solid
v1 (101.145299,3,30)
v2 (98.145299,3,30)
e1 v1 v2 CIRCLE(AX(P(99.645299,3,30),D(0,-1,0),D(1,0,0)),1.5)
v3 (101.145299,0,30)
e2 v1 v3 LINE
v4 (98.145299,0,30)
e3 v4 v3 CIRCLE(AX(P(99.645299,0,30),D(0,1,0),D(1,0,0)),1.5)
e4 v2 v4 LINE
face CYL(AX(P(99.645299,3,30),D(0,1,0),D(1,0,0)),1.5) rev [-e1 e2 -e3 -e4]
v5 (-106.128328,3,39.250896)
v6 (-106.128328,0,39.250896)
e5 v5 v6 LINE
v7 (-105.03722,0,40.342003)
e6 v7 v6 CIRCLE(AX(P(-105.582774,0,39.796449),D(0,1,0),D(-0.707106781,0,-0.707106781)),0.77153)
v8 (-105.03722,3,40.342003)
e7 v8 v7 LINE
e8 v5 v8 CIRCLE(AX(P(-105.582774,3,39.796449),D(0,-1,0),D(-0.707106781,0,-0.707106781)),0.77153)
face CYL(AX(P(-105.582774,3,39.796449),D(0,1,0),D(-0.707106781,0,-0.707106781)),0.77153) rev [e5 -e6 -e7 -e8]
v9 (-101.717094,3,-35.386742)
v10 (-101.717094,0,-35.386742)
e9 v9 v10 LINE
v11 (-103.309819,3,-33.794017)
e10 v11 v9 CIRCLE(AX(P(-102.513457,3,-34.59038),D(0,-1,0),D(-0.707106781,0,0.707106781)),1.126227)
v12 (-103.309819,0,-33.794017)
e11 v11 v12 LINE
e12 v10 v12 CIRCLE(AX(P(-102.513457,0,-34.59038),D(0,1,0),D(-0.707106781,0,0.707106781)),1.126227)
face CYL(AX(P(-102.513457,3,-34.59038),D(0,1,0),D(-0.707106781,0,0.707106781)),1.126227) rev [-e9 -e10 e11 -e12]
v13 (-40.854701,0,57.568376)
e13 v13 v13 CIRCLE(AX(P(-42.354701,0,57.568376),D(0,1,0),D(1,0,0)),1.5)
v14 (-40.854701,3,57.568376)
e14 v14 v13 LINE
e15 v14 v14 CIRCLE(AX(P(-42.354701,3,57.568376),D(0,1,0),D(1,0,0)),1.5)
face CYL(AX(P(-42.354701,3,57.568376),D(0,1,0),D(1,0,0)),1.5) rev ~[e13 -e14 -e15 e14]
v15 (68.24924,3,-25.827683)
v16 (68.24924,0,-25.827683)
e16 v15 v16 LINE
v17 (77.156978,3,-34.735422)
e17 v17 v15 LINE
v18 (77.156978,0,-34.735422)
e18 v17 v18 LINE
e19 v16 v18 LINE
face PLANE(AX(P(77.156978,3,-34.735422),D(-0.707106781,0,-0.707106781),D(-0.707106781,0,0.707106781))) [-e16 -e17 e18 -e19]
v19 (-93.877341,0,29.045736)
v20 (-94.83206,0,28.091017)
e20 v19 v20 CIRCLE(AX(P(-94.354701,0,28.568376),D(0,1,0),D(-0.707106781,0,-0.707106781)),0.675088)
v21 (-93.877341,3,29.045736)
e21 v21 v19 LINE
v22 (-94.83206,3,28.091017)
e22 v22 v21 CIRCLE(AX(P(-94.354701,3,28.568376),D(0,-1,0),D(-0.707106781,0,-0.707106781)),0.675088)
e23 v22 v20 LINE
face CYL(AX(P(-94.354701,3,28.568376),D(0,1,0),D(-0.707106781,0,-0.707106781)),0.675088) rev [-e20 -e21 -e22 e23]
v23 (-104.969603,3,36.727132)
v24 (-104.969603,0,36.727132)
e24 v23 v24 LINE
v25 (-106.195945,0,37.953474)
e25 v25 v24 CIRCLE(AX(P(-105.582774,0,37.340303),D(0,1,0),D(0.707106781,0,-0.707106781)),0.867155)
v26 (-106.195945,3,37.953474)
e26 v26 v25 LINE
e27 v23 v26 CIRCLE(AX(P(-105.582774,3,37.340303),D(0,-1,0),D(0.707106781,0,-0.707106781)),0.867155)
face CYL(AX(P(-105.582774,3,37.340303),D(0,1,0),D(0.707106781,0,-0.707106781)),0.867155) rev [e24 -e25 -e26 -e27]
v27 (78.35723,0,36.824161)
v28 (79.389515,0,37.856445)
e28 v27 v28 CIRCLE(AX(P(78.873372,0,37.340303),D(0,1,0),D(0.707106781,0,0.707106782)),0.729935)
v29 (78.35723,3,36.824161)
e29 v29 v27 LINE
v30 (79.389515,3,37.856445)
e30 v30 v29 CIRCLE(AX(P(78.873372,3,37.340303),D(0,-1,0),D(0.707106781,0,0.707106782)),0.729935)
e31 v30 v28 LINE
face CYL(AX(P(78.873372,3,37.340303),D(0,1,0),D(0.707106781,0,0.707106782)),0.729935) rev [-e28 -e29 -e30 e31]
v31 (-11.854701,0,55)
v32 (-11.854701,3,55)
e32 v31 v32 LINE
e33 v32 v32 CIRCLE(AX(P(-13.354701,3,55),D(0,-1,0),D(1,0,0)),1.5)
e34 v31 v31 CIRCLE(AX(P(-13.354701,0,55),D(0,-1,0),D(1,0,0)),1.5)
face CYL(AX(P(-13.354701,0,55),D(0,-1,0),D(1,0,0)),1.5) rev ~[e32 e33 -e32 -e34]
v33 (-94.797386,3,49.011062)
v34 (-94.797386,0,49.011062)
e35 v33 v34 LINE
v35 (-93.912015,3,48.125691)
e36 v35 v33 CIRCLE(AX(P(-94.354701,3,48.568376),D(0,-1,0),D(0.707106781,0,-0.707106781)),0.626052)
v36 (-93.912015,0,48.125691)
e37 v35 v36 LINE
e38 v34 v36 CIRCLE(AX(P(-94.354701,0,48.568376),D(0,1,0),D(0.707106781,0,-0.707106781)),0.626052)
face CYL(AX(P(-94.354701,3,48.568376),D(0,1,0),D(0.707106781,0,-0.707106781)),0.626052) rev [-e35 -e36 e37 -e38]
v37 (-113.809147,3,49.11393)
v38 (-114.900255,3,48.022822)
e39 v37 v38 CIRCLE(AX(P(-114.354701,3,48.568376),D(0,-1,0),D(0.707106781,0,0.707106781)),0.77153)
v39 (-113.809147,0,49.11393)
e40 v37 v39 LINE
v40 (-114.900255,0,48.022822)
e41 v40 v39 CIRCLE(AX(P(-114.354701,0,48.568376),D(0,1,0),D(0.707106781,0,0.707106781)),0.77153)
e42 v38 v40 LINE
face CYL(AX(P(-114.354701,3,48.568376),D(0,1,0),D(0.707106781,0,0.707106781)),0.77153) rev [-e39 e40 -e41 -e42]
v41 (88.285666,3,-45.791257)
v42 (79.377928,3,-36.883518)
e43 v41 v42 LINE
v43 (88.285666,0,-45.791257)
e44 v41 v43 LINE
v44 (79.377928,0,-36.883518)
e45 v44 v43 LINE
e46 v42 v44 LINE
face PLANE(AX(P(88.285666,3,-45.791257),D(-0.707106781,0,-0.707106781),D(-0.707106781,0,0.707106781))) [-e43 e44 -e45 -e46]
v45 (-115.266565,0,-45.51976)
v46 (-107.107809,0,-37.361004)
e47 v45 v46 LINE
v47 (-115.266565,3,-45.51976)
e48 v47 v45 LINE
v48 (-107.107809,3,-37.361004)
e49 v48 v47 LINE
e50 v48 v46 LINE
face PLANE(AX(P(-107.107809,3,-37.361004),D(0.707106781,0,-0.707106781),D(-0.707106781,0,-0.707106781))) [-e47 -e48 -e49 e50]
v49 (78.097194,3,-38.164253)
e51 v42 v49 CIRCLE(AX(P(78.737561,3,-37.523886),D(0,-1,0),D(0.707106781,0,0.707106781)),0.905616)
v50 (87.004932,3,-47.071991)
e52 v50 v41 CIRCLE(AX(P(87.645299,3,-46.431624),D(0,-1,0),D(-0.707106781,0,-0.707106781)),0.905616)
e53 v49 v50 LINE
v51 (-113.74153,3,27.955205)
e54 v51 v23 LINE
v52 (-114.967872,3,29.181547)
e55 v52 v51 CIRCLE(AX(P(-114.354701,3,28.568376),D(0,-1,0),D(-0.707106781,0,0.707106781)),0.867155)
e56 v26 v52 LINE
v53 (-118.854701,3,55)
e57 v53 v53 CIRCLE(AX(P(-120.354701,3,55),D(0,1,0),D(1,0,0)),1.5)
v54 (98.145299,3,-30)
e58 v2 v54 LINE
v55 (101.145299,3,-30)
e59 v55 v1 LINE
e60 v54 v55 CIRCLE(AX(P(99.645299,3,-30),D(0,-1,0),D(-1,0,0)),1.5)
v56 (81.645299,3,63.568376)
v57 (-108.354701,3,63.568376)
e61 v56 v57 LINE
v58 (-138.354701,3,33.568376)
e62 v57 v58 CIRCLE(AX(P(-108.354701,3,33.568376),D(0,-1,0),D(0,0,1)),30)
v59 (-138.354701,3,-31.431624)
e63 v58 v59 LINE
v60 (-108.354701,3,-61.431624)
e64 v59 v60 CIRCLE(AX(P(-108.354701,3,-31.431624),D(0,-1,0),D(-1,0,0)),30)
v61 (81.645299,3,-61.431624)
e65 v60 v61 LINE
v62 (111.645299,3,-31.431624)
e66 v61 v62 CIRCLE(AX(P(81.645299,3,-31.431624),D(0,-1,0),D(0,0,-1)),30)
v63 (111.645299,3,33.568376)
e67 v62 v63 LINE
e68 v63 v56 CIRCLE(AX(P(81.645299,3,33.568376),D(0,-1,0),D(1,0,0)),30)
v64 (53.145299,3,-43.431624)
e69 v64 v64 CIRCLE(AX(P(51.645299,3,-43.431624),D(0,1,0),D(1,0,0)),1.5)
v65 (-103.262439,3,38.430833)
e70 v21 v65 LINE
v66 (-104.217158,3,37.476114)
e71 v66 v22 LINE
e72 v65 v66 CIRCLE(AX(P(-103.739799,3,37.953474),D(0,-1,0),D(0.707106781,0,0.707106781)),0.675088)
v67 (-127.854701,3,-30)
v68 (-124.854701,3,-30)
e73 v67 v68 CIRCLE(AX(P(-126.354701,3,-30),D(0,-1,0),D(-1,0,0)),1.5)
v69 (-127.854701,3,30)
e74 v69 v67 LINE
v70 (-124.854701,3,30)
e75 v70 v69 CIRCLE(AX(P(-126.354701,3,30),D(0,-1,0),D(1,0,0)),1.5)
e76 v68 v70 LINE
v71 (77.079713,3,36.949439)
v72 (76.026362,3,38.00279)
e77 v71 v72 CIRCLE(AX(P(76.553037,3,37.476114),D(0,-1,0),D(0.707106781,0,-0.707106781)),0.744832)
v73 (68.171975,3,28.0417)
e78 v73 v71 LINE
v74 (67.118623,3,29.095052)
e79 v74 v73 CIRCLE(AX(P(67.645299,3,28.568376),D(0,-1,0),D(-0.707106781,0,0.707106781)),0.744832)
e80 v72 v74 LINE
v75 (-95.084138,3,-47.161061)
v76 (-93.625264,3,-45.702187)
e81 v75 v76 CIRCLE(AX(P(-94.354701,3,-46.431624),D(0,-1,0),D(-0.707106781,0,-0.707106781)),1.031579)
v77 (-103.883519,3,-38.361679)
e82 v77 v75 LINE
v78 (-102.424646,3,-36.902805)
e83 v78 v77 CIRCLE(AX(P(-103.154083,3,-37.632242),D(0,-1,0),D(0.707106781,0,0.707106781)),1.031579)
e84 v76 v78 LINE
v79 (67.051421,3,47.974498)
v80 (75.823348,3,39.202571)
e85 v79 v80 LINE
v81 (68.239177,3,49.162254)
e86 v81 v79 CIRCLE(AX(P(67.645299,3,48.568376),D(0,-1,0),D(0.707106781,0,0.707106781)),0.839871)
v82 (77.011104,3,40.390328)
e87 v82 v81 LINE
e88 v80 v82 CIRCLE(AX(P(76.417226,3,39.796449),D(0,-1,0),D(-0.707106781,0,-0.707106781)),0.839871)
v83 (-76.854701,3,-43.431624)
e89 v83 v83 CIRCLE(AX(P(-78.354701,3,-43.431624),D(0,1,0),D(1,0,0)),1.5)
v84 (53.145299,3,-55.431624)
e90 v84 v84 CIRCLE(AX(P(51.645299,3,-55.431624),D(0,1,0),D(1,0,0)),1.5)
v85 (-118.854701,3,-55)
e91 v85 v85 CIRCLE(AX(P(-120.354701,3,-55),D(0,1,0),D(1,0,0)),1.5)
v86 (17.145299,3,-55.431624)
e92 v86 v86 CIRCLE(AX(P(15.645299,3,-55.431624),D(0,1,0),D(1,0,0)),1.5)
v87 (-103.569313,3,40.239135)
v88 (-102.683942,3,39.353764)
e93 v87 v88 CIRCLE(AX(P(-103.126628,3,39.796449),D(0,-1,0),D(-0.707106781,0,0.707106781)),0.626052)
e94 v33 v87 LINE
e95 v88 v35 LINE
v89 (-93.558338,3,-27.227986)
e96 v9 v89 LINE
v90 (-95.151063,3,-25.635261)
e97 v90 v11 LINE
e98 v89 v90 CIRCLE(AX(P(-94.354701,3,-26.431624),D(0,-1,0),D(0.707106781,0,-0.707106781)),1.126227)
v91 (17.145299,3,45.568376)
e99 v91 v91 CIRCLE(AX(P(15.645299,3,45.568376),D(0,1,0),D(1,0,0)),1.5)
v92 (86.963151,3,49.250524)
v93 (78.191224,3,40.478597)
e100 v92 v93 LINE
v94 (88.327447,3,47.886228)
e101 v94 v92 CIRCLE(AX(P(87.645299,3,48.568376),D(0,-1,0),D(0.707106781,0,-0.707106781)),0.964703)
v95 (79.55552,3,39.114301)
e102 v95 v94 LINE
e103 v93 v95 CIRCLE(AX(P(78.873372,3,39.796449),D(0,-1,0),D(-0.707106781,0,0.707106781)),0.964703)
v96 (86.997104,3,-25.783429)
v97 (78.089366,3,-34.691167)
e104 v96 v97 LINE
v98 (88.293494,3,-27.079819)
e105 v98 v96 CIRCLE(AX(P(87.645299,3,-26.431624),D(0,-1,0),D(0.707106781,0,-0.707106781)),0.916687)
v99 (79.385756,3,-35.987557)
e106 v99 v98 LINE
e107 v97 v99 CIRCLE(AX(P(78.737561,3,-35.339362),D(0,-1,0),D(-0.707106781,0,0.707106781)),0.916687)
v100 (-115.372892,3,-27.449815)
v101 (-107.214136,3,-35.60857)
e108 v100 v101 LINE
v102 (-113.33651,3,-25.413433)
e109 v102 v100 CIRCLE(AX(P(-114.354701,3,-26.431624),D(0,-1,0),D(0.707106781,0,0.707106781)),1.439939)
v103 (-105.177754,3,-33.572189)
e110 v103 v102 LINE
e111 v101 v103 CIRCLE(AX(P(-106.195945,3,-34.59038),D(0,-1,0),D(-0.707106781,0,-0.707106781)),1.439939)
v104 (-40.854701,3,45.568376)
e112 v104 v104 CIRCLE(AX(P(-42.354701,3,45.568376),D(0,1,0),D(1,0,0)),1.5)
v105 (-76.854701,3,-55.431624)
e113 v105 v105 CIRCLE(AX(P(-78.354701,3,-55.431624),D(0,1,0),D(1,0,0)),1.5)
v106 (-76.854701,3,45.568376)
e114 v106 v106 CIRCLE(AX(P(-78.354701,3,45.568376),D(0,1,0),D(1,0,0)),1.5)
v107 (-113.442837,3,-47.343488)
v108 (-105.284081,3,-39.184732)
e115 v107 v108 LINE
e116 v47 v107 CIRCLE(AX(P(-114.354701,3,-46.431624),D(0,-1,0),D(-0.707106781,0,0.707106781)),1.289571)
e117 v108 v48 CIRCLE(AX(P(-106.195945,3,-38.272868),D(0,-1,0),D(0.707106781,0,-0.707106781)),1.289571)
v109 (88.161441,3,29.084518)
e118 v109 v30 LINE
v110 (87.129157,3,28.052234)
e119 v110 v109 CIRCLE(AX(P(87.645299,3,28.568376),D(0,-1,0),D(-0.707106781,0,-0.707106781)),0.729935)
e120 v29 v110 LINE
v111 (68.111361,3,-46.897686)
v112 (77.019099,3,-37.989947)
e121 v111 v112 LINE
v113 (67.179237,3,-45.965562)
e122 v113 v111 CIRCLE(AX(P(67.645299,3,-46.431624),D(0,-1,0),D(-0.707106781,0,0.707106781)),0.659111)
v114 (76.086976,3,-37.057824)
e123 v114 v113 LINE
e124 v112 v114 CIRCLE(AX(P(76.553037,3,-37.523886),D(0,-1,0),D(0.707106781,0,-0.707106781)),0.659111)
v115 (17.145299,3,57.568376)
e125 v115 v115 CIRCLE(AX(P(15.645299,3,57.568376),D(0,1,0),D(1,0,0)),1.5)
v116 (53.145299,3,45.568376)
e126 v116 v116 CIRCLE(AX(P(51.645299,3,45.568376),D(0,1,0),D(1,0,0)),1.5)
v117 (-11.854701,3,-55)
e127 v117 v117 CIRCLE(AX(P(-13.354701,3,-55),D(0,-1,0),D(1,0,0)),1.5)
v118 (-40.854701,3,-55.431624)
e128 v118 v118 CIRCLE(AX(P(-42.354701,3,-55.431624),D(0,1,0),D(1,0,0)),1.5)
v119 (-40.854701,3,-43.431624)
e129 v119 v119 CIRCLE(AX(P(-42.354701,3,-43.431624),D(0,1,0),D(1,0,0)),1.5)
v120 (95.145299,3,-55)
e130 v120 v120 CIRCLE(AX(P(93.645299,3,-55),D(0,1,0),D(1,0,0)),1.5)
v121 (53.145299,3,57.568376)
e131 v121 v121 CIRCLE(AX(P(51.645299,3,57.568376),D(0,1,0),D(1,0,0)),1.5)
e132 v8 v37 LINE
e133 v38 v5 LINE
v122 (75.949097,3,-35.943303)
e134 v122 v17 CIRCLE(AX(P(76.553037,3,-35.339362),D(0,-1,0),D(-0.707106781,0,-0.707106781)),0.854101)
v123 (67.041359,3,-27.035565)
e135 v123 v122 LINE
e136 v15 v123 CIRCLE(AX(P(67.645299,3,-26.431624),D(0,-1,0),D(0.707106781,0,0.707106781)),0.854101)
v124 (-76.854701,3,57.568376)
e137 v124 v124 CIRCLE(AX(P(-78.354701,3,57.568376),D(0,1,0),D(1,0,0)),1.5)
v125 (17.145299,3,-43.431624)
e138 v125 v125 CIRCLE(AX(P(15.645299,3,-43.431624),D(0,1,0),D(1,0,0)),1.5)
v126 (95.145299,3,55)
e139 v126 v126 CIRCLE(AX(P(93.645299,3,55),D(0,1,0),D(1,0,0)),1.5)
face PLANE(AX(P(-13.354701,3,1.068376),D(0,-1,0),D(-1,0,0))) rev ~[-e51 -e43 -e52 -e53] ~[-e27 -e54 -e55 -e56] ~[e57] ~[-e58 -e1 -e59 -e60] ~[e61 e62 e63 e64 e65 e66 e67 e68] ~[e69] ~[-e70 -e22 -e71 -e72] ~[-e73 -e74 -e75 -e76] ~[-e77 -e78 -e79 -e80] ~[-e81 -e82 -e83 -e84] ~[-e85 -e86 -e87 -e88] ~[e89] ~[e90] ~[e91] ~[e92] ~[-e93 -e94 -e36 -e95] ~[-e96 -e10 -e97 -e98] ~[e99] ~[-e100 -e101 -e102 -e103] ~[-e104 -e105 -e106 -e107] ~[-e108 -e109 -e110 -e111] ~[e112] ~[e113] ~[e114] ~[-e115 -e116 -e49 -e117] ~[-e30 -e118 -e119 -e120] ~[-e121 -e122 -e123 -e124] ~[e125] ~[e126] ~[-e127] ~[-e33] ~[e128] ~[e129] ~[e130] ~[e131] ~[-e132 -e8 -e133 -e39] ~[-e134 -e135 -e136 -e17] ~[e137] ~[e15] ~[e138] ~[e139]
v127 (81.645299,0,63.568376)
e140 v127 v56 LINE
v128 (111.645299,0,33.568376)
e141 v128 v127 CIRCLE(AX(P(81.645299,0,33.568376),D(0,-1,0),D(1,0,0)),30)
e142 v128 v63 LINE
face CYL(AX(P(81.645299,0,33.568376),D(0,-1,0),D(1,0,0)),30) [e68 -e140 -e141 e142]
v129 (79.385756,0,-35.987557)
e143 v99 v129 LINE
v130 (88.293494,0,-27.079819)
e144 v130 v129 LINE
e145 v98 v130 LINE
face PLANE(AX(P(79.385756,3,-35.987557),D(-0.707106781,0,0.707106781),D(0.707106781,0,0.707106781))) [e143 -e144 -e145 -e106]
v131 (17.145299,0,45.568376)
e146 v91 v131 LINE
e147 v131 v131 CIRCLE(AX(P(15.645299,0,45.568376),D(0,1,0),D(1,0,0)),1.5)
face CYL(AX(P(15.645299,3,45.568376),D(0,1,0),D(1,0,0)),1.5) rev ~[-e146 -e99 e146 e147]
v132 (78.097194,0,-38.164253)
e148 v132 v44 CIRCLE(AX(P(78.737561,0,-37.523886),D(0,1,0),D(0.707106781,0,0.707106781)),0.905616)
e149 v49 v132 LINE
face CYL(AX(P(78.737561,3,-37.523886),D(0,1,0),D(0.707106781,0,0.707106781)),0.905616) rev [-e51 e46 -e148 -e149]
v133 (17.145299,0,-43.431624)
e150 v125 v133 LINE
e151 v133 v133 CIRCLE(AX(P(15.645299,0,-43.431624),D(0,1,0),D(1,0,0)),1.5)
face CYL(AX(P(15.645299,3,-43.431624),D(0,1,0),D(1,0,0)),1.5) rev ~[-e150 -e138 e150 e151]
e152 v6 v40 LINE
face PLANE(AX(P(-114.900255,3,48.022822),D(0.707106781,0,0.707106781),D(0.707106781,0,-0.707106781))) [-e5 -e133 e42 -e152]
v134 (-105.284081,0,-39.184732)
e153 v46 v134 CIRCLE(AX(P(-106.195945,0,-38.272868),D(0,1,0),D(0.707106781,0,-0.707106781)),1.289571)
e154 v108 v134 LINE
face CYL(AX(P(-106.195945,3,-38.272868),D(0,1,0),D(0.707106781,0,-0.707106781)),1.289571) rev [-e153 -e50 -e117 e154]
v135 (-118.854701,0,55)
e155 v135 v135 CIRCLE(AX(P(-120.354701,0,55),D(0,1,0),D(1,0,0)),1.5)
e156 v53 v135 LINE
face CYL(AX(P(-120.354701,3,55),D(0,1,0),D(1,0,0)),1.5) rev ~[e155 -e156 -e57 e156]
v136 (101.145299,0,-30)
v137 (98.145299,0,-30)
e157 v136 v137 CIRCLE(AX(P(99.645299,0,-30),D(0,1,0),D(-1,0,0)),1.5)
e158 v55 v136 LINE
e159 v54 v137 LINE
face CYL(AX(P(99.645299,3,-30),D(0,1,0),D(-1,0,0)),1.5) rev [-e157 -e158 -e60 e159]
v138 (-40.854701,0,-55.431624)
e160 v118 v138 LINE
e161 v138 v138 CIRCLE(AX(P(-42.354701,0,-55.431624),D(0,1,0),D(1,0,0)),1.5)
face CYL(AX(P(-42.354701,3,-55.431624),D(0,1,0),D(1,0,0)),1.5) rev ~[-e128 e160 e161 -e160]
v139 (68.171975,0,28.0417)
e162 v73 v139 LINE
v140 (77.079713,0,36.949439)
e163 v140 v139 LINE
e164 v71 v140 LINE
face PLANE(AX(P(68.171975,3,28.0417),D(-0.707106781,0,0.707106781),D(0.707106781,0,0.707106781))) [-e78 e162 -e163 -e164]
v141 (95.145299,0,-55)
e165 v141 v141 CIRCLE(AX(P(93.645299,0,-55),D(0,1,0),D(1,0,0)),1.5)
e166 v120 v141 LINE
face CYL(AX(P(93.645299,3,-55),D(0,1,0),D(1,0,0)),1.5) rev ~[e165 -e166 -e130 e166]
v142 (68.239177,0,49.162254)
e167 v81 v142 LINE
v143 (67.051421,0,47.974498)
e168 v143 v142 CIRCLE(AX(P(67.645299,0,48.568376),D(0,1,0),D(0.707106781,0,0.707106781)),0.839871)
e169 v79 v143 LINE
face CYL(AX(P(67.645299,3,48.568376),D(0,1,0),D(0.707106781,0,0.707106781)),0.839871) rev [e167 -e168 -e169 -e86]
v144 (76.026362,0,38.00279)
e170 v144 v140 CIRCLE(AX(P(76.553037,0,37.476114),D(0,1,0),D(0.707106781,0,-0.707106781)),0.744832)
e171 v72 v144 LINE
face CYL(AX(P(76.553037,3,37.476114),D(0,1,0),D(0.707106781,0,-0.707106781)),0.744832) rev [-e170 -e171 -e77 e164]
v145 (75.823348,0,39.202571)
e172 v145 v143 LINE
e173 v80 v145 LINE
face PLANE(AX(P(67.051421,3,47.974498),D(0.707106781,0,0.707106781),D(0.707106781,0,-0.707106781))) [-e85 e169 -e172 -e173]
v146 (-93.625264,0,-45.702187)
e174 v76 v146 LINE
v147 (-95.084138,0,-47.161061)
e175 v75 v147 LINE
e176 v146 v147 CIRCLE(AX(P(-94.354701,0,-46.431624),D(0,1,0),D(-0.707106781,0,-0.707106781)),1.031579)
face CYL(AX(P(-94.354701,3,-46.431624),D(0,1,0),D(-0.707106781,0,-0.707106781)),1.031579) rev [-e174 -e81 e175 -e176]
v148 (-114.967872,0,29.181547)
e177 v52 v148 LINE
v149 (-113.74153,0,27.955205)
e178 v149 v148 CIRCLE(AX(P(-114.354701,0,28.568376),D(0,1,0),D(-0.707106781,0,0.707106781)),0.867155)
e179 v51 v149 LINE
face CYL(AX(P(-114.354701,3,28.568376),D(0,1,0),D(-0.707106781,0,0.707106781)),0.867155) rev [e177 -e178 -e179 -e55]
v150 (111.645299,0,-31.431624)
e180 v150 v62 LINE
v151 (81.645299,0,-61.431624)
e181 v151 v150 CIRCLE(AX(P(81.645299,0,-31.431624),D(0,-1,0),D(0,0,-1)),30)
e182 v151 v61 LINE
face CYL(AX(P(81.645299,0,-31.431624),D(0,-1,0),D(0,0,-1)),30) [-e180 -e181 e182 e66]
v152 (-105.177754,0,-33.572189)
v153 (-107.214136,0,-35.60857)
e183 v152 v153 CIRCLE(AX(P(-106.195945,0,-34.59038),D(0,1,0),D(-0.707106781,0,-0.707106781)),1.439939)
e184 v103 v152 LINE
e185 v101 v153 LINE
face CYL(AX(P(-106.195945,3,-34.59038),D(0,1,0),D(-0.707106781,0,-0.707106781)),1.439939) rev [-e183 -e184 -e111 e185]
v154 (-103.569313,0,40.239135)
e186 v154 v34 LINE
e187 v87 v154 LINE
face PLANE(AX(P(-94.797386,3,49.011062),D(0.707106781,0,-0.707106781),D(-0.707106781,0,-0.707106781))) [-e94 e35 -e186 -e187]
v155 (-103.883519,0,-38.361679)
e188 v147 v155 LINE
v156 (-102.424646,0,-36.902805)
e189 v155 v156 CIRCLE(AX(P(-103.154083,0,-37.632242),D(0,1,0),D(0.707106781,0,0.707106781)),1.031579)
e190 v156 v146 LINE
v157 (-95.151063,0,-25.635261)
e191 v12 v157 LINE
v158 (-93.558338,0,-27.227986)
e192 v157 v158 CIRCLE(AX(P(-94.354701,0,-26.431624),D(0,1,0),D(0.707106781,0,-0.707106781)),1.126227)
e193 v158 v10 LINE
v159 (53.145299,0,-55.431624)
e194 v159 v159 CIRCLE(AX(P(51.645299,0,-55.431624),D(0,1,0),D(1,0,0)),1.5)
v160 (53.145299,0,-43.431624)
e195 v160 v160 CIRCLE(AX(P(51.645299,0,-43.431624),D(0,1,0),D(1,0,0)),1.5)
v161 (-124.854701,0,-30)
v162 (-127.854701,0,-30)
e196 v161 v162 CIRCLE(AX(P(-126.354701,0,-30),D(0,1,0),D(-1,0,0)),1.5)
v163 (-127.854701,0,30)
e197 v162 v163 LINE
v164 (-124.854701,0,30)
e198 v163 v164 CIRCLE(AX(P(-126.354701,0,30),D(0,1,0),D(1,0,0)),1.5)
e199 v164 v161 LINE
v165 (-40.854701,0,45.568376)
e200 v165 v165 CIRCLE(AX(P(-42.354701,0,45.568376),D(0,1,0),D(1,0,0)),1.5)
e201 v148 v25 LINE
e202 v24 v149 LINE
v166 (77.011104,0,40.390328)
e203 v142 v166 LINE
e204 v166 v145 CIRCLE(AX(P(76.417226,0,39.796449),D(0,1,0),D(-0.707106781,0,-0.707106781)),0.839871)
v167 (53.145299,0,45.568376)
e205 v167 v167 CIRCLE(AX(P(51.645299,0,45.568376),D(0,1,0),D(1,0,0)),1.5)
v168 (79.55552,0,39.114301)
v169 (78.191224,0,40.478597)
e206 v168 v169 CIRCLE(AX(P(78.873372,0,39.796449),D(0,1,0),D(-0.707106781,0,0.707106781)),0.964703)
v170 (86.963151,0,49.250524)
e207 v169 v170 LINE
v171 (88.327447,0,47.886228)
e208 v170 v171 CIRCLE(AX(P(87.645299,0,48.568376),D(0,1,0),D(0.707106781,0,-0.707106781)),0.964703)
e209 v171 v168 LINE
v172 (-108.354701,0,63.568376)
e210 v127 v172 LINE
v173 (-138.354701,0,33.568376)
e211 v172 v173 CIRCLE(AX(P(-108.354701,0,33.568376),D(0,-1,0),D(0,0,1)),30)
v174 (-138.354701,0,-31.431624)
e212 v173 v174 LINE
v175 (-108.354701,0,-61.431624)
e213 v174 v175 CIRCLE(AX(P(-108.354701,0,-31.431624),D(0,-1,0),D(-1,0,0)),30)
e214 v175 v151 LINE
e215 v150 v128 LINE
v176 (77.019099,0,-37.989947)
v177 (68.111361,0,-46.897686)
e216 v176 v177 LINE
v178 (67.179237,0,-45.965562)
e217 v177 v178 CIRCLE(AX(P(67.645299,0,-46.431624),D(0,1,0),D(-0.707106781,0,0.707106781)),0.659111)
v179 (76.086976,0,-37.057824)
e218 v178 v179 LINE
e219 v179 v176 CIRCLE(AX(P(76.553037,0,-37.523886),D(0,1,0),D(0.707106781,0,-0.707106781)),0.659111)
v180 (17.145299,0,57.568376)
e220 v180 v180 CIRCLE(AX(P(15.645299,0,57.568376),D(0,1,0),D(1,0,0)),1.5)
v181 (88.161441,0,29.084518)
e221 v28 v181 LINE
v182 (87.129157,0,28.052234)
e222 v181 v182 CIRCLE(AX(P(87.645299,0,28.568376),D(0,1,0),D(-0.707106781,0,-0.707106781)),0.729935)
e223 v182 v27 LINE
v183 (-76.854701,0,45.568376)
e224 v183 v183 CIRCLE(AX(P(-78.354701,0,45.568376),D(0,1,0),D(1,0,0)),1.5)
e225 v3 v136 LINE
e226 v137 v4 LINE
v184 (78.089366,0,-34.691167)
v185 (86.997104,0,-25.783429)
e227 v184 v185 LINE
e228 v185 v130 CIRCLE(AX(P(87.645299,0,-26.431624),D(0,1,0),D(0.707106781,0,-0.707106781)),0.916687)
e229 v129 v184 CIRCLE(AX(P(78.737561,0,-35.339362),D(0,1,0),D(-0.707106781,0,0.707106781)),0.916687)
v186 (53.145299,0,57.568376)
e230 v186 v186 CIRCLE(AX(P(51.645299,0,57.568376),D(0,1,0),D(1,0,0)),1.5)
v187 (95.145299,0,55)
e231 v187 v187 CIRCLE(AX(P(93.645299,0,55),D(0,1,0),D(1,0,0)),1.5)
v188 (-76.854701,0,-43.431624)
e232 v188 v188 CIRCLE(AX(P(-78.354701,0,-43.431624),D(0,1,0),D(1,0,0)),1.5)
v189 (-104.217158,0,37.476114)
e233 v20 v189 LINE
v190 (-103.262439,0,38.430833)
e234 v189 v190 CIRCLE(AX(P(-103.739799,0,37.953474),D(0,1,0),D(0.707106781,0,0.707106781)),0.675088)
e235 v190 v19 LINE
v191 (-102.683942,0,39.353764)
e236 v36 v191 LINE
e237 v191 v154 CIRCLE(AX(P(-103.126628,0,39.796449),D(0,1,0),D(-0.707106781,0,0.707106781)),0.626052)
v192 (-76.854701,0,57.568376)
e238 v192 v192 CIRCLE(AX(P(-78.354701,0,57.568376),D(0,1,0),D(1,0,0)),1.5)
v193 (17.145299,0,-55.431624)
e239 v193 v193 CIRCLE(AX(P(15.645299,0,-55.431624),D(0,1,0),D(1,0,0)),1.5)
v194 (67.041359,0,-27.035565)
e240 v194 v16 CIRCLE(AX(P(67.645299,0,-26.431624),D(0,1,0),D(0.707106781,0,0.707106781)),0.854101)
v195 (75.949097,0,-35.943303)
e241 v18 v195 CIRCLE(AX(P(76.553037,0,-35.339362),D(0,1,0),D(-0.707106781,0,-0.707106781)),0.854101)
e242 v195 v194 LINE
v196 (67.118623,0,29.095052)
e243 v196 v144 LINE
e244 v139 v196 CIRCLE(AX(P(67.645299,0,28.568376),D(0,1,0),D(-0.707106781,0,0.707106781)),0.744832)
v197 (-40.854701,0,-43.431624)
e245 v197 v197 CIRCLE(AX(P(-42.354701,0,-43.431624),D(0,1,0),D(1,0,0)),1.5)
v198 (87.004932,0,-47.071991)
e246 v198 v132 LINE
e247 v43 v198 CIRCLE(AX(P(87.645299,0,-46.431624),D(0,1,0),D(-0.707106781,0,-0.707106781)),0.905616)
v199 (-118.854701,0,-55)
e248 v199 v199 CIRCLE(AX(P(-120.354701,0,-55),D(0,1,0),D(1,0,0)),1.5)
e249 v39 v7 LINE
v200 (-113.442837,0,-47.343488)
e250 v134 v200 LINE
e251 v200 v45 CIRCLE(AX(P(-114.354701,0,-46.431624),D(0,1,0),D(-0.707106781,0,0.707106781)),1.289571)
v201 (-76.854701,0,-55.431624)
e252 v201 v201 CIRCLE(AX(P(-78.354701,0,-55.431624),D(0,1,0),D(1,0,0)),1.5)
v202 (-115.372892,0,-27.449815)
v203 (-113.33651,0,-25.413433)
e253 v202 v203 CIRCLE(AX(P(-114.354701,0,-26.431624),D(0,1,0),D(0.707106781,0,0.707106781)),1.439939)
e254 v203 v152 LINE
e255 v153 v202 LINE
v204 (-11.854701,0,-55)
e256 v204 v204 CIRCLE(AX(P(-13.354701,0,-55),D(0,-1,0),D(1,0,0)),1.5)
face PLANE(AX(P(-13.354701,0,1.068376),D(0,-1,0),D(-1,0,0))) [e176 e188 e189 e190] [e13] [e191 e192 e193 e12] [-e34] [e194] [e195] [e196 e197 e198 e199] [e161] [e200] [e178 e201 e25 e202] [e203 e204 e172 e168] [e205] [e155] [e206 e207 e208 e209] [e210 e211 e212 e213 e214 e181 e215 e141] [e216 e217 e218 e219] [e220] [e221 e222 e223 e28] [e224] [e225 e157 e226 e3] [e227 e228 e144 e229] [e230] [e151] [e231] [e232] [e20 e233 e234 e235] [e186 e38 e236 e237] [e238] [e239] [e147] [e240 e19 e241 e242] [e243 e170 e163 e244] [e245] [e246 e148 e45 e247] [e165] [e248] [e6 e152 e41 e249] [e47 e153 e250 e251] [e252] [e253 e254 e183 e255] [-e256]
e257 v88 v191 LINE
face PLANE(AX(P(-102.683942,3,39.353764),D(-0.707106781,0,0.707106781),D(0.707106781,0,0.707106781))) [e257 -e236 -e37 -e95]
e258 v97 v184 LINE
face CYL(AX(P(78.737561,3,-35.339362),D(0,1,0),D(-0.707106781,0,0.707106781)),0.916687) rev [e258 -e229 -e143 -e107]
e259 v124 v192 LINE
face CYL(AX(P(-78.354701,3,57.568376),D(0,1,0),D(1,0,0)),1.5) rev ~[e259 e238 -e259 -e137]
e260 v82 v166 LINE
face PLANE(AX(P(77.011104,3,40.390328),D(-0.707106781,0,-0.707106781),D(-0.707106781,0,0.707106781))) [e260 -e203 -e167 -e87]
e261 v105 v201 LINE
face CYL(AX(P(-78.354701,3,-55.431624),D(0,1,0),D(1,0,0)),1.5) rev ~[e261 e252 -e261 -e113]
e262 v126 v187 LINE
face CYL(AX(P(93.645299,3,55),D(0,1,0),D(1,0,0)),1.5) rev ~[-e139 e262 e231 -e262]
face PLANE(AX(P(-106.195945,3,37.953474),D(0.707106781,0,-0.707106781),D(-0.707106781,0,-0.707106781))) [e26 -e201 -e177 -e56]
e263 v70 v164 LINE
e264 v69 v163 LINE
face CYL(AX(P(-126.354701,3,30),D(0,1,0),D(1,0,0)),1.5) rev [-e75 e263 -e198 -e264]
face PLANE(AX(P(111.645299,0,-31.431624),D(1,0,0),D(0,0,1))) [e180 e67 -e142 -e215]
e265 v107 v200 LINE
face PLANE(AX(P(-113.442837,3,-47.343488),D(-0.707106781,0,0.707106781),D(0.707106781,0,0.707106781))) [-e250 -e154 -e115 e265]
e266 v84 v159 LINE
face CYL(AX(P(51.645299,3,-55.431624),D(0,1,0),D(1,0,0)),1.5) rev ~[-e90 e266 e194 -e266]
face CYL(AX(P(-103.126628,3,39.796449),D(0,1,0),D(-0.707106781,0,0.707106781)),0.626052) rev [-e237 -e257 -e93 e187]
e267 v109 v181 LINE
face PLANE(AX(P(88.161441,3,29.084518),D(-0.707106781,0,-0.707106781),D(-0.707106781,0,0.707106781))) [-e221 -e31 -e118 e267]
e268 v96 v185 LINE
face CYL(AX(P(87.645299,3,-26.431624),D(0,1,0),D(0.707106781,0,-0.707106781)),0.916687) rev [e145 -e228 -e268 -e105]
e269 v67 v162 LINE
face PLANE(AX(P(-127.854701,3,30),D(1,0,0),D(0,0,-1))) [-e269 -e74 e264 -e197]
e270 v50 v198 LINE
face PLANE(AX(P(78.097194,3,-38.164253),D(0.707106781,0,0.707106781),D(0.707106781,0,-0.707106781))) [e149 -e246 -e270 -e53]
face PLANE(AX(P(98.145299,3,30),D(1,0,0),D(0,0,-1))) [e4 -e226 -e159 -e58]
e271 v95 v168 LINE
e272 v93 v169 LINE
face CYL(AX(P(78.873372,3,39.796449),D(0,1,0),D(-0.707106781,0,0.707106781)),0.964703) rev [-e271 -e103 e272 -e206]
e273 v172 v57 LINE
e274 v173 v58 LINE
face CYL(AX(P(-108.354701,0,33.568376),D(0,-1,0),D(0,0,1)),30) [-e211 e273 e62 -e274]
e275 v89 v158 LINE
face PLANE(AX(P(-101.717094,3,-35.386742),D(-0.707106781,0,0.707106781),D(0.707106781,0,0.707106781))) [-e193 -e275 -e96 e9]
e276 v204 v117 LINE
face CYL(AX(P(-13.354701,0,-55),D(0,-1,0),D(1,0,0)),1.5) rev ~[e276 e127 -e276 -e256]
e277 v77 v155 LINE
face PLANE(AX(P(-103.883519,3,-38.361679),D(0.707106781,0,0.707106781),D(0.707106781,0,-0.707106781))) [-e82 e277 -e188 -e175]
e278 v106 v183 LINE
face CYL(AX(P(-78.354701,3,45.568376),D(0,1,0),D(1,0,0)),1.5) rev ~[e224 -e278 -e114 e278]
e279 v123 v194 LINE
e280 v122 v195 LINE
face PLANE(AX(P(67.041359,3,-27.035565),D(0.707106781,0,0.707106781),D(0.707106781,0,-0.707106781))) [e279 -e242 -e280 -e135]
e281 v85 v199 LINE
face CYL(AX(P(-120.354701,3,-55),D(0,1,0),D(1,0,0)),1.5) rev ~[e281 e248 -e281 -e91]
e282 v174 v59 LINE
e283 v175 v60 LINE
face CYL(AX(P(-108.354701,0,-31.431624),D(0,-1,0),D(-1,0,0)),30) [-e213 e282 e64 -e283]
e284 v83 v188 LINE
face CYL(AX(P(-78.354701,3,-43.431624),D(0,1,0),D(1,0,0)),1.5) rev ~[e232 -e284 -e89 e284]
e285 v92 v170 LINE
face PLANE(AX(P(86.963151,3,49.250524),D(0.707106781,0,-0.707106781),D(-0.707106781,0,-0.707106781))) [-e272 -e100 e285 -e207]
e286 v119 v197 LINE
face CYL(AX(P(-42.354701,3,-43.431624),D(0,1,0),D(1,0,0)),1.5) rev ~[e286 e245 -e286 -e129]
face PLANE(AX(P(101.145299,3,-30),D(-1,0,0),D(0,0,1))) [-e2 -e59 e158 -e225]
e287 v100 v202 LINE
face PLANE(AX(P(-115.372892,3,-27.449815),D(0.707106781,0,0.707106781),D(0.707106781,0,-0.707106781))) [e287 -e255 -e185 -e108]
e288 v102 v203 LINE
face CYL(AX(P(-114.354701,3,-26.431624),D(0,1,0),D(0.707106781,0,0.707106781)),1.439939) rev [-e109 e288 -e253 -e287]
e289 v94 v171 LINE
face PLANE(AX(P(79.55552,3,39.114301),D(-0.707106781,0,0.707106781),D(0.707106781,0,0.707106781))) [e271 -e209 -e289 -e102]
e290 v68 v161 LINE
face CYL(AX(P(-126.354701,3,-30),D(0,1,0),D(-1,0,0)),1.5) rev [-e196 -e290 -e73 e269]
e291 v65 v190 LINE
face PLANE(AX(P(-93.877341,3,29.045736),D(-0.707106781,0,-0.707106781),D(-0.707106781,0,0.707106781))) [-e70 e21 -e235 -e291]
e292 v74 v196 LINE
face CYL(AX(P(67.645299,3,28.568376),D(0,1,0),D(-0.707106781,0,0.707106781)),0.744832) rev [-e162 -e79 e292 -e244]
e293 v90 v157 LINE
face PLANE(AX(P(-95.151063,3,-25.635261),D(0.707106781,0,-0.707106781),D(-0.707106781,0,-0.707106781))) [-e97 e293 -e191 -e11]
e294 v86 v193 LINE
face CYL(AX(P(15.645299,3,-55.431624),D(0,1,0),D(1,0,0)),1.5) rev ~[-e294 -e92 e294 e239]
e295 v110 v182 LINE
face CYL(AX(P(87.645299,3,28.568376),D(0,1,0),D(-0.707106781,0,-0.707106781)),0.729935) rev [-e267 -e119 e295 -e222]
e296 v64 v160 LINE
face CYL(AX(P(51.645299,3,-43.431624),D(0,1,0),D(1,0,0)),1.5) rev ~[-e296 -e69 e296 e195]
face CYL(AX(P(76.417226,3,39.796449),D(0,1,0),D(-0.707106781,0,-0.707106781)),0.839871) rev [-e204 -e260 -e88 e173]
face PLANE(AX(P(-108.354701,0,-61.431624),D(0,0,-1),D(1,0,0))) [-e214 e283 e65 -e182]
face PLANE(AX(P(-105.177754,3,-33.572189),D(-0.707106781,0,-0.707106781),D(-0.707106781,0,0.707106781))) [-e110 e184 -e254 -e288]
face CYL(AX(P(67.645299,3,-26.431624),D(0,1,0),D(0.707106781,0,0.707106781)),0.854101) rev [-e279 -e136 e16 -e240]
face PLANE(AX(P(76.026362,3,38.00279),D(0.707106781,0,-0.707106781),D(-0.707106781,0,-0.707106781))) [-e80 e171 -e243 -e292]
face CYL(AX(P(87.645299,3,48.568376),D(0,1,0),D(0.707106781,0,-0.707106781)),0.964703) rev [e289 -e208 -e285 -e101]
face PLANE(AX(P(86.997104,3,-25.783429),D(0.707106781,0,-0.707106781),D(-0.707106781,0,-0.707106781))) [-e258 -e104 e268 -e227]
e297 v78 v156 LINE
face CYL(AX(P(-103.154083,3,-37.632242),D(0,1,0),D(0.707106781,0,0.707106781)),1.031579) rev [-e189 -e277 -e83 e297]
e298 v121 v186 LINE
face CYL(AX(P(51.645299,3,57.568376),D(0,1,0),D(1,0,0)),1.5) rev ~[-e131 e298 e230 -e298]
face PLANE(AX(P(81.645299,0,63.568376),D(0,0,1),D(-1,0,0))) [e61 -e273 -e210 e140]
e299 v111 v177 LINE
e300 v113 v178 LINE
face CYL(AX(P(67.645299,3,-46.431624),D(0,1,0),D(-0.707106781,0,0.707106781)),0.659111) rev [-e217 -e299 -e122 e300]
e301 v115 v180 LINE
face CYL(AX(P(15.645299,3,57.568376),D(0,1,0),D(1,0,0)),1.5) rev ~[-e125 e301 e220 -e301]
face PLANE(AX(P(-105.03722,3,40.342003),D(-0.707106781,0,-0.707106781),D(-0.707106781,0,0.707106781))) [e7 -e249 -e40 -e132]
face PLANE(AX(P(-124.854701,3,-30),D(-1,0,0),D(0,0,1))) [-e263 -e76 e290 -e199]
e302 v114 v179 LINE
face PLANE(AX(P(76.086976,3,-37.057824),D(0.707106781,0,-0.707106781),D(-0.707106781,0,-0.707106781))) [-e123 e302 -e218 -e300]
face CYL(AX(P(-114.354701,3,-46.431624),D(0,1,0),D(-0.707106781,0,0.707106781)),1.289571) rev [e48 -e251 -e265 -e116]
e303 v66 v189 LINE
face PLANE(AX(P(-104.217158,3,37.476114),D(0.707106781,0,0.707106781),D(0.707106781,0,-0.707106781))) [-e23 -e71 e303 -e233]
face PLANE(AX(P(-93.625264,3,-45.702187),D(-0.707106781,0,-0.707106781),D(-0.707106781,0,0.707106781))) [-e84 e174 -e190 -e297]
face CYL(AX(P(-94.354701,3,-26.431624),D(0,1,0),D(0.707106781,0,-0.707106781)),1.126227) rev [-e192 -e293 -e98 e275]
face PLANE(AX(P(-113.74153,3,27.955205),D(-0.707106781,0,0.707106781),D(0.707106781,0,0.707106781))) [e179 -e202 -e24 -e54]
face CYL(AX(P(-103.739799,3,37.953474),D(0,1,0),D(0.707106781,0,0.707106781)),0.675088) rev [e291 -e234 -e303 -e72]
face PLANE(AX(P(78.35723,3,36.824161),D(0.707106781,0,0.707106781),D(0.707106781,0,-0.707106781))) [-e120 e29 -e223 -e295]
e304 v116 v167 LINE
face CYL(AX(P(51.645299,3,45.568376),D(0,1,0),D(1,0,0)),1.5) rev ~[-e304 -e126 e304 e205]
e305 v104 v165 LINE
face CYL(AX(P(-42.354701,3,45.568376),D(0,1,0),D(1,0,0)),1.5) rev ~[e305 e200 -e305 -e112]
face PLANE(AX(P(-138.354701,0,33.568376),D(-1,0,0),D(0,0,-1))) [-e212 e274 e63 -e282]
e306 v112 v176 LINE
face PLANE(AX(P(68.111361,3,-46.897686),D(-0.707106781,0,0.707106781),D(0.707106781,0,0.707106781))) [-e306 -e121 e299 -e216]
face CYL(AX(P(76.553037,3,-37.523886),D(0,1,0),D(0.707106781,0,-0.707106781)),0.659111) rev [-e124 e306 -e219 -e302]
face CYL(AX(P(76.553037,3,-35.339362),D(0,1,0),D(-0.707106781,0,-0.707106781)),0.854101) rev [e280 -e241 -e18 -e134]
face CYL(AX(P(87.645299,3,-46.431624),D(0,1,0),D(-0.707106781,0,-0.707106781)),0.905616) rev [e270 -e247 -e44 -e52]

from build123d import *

# Parameters (mm, degrees)
EXTRUDE_1_DEPTH     = 3
SKETCH_2_R          = 1.5
CUT_EXTRUDE_1_DEPTH = 3
CUT_EXTRUDE_2_DEPTH = 10
SKETCH_4_R          = 1.5
CUT_EXTRUDE_3_DEPTH = 4
SKETCH_5_R          = 1.5
CUT_EXTRUDE_4_DEPTH = 10
SKETCH_6_R          = 1.5
CUT_EXTRUDE_5_DEPTH = 10


with BuildPart() as part:
    # 草图1 → 凸台-拉伸1 (new body)
    with BuildSketch(Plane(origin=(0, 0, 0), x_dir=(1, 0, 0), z_dir=(0, 1, 0))):
        with BuildLine():
            Line((-108.354700855, 61.431623932), (81.645299145, 61.431623932))
            ThreePointArc((81.645299145, 61.431623932), (102.858502581, 52.644827367), (111.645299145, 31.431623932))
            Line((111.645299145, 31.431623932), (111.645299145, -33.568376068))
            ThreePointArc((111.645299145, -33.568376068), (102.858502581, -54.781579504), (81.645299145, -63.568376068))
            Line((81.645299145, -63.568376068), (-108.354700855, -63.568376068))
            ThreePointArc((-108.354700855, -63.568376068), (-129.56790429, -54.781579504), (-138.354700855, -33.568376068))
            Line((-138.354700855, -33.568376068), (-138.354700855, 31.431623932))
            ThreePointArc((-138.354700855, 31.431623932), (-129.56790429, 52.644827367), (-108.354700855, 61.431623932))
        make_face()
    extrude(amount=EXTRUDE_1_DEPTH)

    # 草图2 → 切除-拉伸1 (cut)
    with BuildSketch(Plane(origin=(0, 3, 0), x_dir=(1, 0, 0), z_dir=(0, 1, 0))):
        with Locations((-78.354700855, -45.568376068)):
            Circle(SKETCH_2_R)
        with Locations((-78.354700855, -57.568376068)):
            Circle(SKETCH_2_R)
        with Locations((51.645299145, -45.568376068)):
            Circle(SKETCH_2_R)
        with Locations((51.645299145, -57.568376068)):
            Circle(SKETCH_2_R)
        with Locations((-78.354700855, 55.431623932)):
            Circle(SKETCH_2_R)
        with Locations((-78.354700855, 43.431623932)):
            Circle(SKETCH_2_R)
        with Locations((51.645299145, 43.431623932)):
            Circle(SKETCH_2_R)
        with Locations((51.645299145, 55.431623932)):
            Circle(SKETCH_2_R)
    extrude(amount=-CUT_EXTRUDE_1_DEPTH, mode=Mode.SUBTRACT)

    # 草图3 → 切除-拉伸2 (cut)
    with BuildSketch(Plane(origin=(0, 3, 0), x_dir=(1, 0, 0), z_dir=(0, 1, 0))):
        with BuildLine():
            Line((-127.854700855, -30), (-127.854700855, 30))
            ThreePointArc((-127.854700855, 30), (-126.354700855, 31.5), (-124.854700855, 30))
            Line((-124.854700855, 30), (-124.854700855, -30))
            ThreePointArc((-124.854700855, -30), (-126.354700855, -31.5), (-127.854700855, -30))
        make_face()
        with BuildLine():
            Line((98.145299145, -30), (98.145299145, 30))
            ThreePointArc((98.145299145, 30), (99.645299145, 31.5), (101.145299145, 30))
            Line((101.145299145, 30), (101.145299145, -30))
            ThreePointArc((101.145299145, -30), (99.645299145, -31.5), (98.145299145, -30))
        make_face()
        with BuildLine():
            Line((-114.900254633, -48.02282229), (-106.12832787, -39.250895528))
            ThreePointArc((-106.12832787, -39.250895528), (-105.037220314, -39.250895528), (-105.037220314, -40.342003084))
            Line((-105.037220314, -40.342003084), (-113.809147077, -49.113929846))
            ThreePointArc((-113.809147077, -49.113929846), (-114.900254633, -49.113929846), (-114.900254633, -48.02282229))
        make_face()
        with BuildLine():
            Line((-106.195945183, -37.953473922), (-114.967871946, -29.181547159))
            ThreePointArc((-114.967871946, -29.181547159), (-114.967871946, -27.955204977), (-113.741529764, -27.955204977))
            Line((-113.741529764, -27.955204977), (-104.969603001, -36.72713174))
            ThreePointArc((-104.969603001, -36.72713174), (-104.969603001, -37.953473922), (-106.195945183, -37.953473922))
        make_face()
        with BuildLine():
            Line((-102.683942112, -39.353763801), (-93.91201535, -48.125690563))
            ThreePointArc((-93.91201535, -48.125690563), (-93.91201535, -49.011061573), (-94.79738636, -49.011061573))
            Line((-94.79738636, -49.011061573), (-103.569313122, -40.239134811))
            ThreePointArc((-103.569313122, -40.239134811), (-103.569313122, -39.353763801), (-102.683942112, -39.353763801))
        make_face()
        with BuildLine():
            Line((-104.217158252, -37.476114378), (-94.832060398, -28.091016525))
            ThreePointArc((-94.832060398, -28.091016525), (-93.877341311, -28.091016525), (-93.877341311, -29.045735612))
            Line((-93.877341311, -29.045735612), (-103.262439165, -38.430833465))
            ThreePointArc((-103.262439165, -38.430833465), (-104.217158252, -38.430833465), (-104.217158252, -37.476114378))
        make_face()
        with BuildLine():
            Line((-115.372891691, 27.449814768), (-107.214136019, 35.60857044))
            ThreePointArc((-107.214136019, 35.60857044), (-105.177754347, 35.60857044), (-105.177754347, 33.572188767))
            Line((-105.177754347, 33.572188767), (-113.336510018, 25.413433095))
            ThreePointArc((-113.336510018, 25.413433095), (-115.372891691, 25.413433095), (-115.372891691, 27.449814768))
        make_face()
        with BuildLine():
            Line((-107.107809328, 37.361004116), (-115.266564999, 45.519759787))
            ThreePointArc((-115.266564999, 45.519759787), (-115.266564999, 47.343488076), (-113.44283671, 47.343488076))
            Line((-113.44283671, 47.343488076), (-105.284081039, 39.184732404))
            ThreePointArc((-105.284081039, 39.184732404), (-105.284081039, 37.361004116), (-107.107809328, 37.361004116))
        make_face()
        with BuildLine():
            Line((-103.88351943, 38.361678912), (-95.084137633, 47.16106071))
            ThreePointArc((-95.084137633, 47.16106071), (-93.625264077, 47.16106071), (-93.625264077, 45.702187154))
            Line((-93.625264077, 45.702187154), (-102.424645874, 36.902805357))
            ThreePointArc((-102.424645874, 36.902805357), (-103.88351943, 36.902805357), (-103.88351943, 38.361678912))
        make_face()
        with BuildLine():
            Line((-101.717094005, 35.386742124), (-93.558338334, 27.227986453))
            ThreePointArc((-93.558338334, 27.227986453), (-93.558338334, 25.635261411), (-95.151063376, 25.635261411))
            Line((-95.151063376, 25.635261411), (-103.309819047, 33.794017082))
            ThreePointArc((-103.309819047, 33.794017082), (-103.309819047, 35.386742124), (-101.717094005, 35.386742124))
        make_face()
        with BuildLine():
            Line((67.051420942, -47.974497865), (75.823347705, -39.202571103))
            ThreePointArc((75.823347705, -39.202571103), (77.011104111, -39.202571103), (77.011104111, -40.390327509))
            Line((77.011104111, -40.390327509), (68.239177348, -49.162254271))
            ThreePointArc((68.239177348, -49.162254271), (67.051420942, -49.162254271), (67.051420942, -47.974497865))
        make_face()
        with BuildLine():
            Line((76.026361578, -38.002790255), (67.118623268, -29.095051945))
            ThreePointArc((67.118623268, -29.095051945), (67.118623268, -28.041700191), (68.171975022, -28.041700191))
            Line((68.171975022, -28.041700191), (77.079713332, -36.949438501))
            ThreePointArc((77.079713332, -36.949438501), (77.079713332, -38.002790255), (76.026361578, -38.002790255))
        make_face()
        with BuildLine():
            Line((79.555520355, -39.114301334), (88.327447117, -47.886228097))
            ThreePointArc((88.327447117, -47.886228097), (88.327447117, -49.25052404), (86.963151173, -49.25052404))
            Line((86.963151173, -49.25052404), (78.191224411, -40.478597278))
            ThreePointArc((78.191224411, -40.478597278), (78.191224411, -39.114301334), (79.555520355, -39.114301334))
        make_face()
        with BuildLine():
            Line((78.357230227, -36.824160675), (87.12915699, -28.052233913))
            ThreePointArc((87.12915699, -28.052233913), (88.161441301, -28.052233913), (88.161441301, -29.084518224))
            Line((88.161441301, -29.084518224), (79.389514538, -37.856444987))
            ThreePointArc((79.389514538, -37.856444987), (78.357230227, -37.856444987), (78.357230227, -36.824160675))
        make_face()
        with BuildLine():
            Line((67.041358523, 27.035564554), (75.949096833, 35.943302864))
            ThreePointArc((75.949096833, 35.943302864), (77.156978077, 35.943302864), (77.156978077, 34.73542162))
            Line((77.156978077, 34.73542162), (68.249239767, 25.82768331))
            ThreePointArc((68.249239767, 25.82768331), (67.041358523, 25.82768331), (67.041358523, 27.035564554))
        make_face()
        with BuildLine():
            Line((76.086975669, 37.057823836), (67.179237359, 45.965562146))
            ThreePointArc((67.179237359, 45.965562146), (67.179237359, 46.897685718), (68.111360931, 46.897685718))
            Line((68.111360931, 46.897685718), (77.019099241, 37.989947408))
            ThreePointArc((77.019099241, 37.989947408), (77.019099241, 37.057823836), (76.086975669, 37.057823836))
        make_face()
        with BuildLine():
            Line((79.385756077, 35.987557483), (88.293494387, 27.079819173))
            ThreePointArc((88.293494387, 27.079819173), (88.293494387, 25.78342869), (86.997103904, 25.78342869))
            Line((86.997103904, 25.78342869), (78.089365594, 34.691167))
            ThreePointArc((78.089365594, 34.691167), (78.089365594, 35.987557483), (79.385756077, 35.987557483))
        make_face()
        with BuildLine():
            Line((78.097193522, 38.164252935), (87.004931832, 47.071991245))
            ThreePointArc((87.004931832, 47.071991245), (88.285666458, 47.071991245), (88.285666458, 45.791256619))
            Line((88.285666458, 45.791256619), (79.377928148, 36.883518309))
            ThreePointArc((79.377928148, 36.883518309), (78.097193522, 36.883518309), (78.097193522, 38.164252935))
        make_face()
    extrude(amount=-CUT_EXTRUDE_2_DEPTH, mode=Mode.SUBTRACT)

    # 草图4 → 切除-拉伸3 (cut, through all)
    with BuildSketch(Plane(origin=(0, 3, 0), x_dir=(1, 0, 0), z_dir=(0, 1, 0))):
        with Locations((93.645299145, -55)):
            Circle(SKETCH_4_R)
        with Locations((93.645299145, 55)):
            Circle(SKETCH_4_R)
        with Locations((-120.354700855, 55)):
            Circle(SKETCH_4_R)
        with Locations((-120.354700855, -55)):
            Circle(SKETCH_4_R)
    extrude(amount=-CUT_EXTRUDE_3_DEPTH, mode=Mode.SUBTRACT)

    # 草图5 → 切除-拉伸4 (cut)
    with BuildSketch(Plane.XZ):
        with Locations((-13.354700855, 55)):
            Circle(SKETCH_5_R)
        with Locations((-13.354700855, -55)):
            Circle(SKETCH_5_R)
    extrude(amount=-CUT_EXTRUDE_4_DEPTH, mode=Mode.SUBTRACT)

    # 草图6 → 切除-拉伸5 (cut)
    with BuildSketch(Plane(origin=(0, 3, 0), x_dir=(1, 0, 0), z_dir=(0, 1, 0))):
        with Locations((15.645299145, 55.431623932)):
            Circle(SKETCH_6_R)
        with Locations((15.645299145, 43.431623932)):
            Circle(SKETCH_6_R)
        with Locations((15.645299145, -45.568376068)):
            Circle(SKETCH_6_R)
        with Locations((15.645299145, -57.568376068)):
            Circle(SKETCH_6_R)
        with Locations((-42.354700855, -45.568376068)):
            Circle(SKETCH_6_R)
        with Locations((-42.354700855, -57.568376068)):
            Circle(SKETCH_6_R)
        with Locations((-42.354700855, 55.431623932)):
            Circle(SKETCH_6_R)
        with Locations((-42.354700855, 43.431623932)):
            Circle(SKETCH_6_R)
    extrude(amount=-CUT_EXTRUDE_5_DEPTH, mode=Mode.SUBTRACT)


solid = part.part
